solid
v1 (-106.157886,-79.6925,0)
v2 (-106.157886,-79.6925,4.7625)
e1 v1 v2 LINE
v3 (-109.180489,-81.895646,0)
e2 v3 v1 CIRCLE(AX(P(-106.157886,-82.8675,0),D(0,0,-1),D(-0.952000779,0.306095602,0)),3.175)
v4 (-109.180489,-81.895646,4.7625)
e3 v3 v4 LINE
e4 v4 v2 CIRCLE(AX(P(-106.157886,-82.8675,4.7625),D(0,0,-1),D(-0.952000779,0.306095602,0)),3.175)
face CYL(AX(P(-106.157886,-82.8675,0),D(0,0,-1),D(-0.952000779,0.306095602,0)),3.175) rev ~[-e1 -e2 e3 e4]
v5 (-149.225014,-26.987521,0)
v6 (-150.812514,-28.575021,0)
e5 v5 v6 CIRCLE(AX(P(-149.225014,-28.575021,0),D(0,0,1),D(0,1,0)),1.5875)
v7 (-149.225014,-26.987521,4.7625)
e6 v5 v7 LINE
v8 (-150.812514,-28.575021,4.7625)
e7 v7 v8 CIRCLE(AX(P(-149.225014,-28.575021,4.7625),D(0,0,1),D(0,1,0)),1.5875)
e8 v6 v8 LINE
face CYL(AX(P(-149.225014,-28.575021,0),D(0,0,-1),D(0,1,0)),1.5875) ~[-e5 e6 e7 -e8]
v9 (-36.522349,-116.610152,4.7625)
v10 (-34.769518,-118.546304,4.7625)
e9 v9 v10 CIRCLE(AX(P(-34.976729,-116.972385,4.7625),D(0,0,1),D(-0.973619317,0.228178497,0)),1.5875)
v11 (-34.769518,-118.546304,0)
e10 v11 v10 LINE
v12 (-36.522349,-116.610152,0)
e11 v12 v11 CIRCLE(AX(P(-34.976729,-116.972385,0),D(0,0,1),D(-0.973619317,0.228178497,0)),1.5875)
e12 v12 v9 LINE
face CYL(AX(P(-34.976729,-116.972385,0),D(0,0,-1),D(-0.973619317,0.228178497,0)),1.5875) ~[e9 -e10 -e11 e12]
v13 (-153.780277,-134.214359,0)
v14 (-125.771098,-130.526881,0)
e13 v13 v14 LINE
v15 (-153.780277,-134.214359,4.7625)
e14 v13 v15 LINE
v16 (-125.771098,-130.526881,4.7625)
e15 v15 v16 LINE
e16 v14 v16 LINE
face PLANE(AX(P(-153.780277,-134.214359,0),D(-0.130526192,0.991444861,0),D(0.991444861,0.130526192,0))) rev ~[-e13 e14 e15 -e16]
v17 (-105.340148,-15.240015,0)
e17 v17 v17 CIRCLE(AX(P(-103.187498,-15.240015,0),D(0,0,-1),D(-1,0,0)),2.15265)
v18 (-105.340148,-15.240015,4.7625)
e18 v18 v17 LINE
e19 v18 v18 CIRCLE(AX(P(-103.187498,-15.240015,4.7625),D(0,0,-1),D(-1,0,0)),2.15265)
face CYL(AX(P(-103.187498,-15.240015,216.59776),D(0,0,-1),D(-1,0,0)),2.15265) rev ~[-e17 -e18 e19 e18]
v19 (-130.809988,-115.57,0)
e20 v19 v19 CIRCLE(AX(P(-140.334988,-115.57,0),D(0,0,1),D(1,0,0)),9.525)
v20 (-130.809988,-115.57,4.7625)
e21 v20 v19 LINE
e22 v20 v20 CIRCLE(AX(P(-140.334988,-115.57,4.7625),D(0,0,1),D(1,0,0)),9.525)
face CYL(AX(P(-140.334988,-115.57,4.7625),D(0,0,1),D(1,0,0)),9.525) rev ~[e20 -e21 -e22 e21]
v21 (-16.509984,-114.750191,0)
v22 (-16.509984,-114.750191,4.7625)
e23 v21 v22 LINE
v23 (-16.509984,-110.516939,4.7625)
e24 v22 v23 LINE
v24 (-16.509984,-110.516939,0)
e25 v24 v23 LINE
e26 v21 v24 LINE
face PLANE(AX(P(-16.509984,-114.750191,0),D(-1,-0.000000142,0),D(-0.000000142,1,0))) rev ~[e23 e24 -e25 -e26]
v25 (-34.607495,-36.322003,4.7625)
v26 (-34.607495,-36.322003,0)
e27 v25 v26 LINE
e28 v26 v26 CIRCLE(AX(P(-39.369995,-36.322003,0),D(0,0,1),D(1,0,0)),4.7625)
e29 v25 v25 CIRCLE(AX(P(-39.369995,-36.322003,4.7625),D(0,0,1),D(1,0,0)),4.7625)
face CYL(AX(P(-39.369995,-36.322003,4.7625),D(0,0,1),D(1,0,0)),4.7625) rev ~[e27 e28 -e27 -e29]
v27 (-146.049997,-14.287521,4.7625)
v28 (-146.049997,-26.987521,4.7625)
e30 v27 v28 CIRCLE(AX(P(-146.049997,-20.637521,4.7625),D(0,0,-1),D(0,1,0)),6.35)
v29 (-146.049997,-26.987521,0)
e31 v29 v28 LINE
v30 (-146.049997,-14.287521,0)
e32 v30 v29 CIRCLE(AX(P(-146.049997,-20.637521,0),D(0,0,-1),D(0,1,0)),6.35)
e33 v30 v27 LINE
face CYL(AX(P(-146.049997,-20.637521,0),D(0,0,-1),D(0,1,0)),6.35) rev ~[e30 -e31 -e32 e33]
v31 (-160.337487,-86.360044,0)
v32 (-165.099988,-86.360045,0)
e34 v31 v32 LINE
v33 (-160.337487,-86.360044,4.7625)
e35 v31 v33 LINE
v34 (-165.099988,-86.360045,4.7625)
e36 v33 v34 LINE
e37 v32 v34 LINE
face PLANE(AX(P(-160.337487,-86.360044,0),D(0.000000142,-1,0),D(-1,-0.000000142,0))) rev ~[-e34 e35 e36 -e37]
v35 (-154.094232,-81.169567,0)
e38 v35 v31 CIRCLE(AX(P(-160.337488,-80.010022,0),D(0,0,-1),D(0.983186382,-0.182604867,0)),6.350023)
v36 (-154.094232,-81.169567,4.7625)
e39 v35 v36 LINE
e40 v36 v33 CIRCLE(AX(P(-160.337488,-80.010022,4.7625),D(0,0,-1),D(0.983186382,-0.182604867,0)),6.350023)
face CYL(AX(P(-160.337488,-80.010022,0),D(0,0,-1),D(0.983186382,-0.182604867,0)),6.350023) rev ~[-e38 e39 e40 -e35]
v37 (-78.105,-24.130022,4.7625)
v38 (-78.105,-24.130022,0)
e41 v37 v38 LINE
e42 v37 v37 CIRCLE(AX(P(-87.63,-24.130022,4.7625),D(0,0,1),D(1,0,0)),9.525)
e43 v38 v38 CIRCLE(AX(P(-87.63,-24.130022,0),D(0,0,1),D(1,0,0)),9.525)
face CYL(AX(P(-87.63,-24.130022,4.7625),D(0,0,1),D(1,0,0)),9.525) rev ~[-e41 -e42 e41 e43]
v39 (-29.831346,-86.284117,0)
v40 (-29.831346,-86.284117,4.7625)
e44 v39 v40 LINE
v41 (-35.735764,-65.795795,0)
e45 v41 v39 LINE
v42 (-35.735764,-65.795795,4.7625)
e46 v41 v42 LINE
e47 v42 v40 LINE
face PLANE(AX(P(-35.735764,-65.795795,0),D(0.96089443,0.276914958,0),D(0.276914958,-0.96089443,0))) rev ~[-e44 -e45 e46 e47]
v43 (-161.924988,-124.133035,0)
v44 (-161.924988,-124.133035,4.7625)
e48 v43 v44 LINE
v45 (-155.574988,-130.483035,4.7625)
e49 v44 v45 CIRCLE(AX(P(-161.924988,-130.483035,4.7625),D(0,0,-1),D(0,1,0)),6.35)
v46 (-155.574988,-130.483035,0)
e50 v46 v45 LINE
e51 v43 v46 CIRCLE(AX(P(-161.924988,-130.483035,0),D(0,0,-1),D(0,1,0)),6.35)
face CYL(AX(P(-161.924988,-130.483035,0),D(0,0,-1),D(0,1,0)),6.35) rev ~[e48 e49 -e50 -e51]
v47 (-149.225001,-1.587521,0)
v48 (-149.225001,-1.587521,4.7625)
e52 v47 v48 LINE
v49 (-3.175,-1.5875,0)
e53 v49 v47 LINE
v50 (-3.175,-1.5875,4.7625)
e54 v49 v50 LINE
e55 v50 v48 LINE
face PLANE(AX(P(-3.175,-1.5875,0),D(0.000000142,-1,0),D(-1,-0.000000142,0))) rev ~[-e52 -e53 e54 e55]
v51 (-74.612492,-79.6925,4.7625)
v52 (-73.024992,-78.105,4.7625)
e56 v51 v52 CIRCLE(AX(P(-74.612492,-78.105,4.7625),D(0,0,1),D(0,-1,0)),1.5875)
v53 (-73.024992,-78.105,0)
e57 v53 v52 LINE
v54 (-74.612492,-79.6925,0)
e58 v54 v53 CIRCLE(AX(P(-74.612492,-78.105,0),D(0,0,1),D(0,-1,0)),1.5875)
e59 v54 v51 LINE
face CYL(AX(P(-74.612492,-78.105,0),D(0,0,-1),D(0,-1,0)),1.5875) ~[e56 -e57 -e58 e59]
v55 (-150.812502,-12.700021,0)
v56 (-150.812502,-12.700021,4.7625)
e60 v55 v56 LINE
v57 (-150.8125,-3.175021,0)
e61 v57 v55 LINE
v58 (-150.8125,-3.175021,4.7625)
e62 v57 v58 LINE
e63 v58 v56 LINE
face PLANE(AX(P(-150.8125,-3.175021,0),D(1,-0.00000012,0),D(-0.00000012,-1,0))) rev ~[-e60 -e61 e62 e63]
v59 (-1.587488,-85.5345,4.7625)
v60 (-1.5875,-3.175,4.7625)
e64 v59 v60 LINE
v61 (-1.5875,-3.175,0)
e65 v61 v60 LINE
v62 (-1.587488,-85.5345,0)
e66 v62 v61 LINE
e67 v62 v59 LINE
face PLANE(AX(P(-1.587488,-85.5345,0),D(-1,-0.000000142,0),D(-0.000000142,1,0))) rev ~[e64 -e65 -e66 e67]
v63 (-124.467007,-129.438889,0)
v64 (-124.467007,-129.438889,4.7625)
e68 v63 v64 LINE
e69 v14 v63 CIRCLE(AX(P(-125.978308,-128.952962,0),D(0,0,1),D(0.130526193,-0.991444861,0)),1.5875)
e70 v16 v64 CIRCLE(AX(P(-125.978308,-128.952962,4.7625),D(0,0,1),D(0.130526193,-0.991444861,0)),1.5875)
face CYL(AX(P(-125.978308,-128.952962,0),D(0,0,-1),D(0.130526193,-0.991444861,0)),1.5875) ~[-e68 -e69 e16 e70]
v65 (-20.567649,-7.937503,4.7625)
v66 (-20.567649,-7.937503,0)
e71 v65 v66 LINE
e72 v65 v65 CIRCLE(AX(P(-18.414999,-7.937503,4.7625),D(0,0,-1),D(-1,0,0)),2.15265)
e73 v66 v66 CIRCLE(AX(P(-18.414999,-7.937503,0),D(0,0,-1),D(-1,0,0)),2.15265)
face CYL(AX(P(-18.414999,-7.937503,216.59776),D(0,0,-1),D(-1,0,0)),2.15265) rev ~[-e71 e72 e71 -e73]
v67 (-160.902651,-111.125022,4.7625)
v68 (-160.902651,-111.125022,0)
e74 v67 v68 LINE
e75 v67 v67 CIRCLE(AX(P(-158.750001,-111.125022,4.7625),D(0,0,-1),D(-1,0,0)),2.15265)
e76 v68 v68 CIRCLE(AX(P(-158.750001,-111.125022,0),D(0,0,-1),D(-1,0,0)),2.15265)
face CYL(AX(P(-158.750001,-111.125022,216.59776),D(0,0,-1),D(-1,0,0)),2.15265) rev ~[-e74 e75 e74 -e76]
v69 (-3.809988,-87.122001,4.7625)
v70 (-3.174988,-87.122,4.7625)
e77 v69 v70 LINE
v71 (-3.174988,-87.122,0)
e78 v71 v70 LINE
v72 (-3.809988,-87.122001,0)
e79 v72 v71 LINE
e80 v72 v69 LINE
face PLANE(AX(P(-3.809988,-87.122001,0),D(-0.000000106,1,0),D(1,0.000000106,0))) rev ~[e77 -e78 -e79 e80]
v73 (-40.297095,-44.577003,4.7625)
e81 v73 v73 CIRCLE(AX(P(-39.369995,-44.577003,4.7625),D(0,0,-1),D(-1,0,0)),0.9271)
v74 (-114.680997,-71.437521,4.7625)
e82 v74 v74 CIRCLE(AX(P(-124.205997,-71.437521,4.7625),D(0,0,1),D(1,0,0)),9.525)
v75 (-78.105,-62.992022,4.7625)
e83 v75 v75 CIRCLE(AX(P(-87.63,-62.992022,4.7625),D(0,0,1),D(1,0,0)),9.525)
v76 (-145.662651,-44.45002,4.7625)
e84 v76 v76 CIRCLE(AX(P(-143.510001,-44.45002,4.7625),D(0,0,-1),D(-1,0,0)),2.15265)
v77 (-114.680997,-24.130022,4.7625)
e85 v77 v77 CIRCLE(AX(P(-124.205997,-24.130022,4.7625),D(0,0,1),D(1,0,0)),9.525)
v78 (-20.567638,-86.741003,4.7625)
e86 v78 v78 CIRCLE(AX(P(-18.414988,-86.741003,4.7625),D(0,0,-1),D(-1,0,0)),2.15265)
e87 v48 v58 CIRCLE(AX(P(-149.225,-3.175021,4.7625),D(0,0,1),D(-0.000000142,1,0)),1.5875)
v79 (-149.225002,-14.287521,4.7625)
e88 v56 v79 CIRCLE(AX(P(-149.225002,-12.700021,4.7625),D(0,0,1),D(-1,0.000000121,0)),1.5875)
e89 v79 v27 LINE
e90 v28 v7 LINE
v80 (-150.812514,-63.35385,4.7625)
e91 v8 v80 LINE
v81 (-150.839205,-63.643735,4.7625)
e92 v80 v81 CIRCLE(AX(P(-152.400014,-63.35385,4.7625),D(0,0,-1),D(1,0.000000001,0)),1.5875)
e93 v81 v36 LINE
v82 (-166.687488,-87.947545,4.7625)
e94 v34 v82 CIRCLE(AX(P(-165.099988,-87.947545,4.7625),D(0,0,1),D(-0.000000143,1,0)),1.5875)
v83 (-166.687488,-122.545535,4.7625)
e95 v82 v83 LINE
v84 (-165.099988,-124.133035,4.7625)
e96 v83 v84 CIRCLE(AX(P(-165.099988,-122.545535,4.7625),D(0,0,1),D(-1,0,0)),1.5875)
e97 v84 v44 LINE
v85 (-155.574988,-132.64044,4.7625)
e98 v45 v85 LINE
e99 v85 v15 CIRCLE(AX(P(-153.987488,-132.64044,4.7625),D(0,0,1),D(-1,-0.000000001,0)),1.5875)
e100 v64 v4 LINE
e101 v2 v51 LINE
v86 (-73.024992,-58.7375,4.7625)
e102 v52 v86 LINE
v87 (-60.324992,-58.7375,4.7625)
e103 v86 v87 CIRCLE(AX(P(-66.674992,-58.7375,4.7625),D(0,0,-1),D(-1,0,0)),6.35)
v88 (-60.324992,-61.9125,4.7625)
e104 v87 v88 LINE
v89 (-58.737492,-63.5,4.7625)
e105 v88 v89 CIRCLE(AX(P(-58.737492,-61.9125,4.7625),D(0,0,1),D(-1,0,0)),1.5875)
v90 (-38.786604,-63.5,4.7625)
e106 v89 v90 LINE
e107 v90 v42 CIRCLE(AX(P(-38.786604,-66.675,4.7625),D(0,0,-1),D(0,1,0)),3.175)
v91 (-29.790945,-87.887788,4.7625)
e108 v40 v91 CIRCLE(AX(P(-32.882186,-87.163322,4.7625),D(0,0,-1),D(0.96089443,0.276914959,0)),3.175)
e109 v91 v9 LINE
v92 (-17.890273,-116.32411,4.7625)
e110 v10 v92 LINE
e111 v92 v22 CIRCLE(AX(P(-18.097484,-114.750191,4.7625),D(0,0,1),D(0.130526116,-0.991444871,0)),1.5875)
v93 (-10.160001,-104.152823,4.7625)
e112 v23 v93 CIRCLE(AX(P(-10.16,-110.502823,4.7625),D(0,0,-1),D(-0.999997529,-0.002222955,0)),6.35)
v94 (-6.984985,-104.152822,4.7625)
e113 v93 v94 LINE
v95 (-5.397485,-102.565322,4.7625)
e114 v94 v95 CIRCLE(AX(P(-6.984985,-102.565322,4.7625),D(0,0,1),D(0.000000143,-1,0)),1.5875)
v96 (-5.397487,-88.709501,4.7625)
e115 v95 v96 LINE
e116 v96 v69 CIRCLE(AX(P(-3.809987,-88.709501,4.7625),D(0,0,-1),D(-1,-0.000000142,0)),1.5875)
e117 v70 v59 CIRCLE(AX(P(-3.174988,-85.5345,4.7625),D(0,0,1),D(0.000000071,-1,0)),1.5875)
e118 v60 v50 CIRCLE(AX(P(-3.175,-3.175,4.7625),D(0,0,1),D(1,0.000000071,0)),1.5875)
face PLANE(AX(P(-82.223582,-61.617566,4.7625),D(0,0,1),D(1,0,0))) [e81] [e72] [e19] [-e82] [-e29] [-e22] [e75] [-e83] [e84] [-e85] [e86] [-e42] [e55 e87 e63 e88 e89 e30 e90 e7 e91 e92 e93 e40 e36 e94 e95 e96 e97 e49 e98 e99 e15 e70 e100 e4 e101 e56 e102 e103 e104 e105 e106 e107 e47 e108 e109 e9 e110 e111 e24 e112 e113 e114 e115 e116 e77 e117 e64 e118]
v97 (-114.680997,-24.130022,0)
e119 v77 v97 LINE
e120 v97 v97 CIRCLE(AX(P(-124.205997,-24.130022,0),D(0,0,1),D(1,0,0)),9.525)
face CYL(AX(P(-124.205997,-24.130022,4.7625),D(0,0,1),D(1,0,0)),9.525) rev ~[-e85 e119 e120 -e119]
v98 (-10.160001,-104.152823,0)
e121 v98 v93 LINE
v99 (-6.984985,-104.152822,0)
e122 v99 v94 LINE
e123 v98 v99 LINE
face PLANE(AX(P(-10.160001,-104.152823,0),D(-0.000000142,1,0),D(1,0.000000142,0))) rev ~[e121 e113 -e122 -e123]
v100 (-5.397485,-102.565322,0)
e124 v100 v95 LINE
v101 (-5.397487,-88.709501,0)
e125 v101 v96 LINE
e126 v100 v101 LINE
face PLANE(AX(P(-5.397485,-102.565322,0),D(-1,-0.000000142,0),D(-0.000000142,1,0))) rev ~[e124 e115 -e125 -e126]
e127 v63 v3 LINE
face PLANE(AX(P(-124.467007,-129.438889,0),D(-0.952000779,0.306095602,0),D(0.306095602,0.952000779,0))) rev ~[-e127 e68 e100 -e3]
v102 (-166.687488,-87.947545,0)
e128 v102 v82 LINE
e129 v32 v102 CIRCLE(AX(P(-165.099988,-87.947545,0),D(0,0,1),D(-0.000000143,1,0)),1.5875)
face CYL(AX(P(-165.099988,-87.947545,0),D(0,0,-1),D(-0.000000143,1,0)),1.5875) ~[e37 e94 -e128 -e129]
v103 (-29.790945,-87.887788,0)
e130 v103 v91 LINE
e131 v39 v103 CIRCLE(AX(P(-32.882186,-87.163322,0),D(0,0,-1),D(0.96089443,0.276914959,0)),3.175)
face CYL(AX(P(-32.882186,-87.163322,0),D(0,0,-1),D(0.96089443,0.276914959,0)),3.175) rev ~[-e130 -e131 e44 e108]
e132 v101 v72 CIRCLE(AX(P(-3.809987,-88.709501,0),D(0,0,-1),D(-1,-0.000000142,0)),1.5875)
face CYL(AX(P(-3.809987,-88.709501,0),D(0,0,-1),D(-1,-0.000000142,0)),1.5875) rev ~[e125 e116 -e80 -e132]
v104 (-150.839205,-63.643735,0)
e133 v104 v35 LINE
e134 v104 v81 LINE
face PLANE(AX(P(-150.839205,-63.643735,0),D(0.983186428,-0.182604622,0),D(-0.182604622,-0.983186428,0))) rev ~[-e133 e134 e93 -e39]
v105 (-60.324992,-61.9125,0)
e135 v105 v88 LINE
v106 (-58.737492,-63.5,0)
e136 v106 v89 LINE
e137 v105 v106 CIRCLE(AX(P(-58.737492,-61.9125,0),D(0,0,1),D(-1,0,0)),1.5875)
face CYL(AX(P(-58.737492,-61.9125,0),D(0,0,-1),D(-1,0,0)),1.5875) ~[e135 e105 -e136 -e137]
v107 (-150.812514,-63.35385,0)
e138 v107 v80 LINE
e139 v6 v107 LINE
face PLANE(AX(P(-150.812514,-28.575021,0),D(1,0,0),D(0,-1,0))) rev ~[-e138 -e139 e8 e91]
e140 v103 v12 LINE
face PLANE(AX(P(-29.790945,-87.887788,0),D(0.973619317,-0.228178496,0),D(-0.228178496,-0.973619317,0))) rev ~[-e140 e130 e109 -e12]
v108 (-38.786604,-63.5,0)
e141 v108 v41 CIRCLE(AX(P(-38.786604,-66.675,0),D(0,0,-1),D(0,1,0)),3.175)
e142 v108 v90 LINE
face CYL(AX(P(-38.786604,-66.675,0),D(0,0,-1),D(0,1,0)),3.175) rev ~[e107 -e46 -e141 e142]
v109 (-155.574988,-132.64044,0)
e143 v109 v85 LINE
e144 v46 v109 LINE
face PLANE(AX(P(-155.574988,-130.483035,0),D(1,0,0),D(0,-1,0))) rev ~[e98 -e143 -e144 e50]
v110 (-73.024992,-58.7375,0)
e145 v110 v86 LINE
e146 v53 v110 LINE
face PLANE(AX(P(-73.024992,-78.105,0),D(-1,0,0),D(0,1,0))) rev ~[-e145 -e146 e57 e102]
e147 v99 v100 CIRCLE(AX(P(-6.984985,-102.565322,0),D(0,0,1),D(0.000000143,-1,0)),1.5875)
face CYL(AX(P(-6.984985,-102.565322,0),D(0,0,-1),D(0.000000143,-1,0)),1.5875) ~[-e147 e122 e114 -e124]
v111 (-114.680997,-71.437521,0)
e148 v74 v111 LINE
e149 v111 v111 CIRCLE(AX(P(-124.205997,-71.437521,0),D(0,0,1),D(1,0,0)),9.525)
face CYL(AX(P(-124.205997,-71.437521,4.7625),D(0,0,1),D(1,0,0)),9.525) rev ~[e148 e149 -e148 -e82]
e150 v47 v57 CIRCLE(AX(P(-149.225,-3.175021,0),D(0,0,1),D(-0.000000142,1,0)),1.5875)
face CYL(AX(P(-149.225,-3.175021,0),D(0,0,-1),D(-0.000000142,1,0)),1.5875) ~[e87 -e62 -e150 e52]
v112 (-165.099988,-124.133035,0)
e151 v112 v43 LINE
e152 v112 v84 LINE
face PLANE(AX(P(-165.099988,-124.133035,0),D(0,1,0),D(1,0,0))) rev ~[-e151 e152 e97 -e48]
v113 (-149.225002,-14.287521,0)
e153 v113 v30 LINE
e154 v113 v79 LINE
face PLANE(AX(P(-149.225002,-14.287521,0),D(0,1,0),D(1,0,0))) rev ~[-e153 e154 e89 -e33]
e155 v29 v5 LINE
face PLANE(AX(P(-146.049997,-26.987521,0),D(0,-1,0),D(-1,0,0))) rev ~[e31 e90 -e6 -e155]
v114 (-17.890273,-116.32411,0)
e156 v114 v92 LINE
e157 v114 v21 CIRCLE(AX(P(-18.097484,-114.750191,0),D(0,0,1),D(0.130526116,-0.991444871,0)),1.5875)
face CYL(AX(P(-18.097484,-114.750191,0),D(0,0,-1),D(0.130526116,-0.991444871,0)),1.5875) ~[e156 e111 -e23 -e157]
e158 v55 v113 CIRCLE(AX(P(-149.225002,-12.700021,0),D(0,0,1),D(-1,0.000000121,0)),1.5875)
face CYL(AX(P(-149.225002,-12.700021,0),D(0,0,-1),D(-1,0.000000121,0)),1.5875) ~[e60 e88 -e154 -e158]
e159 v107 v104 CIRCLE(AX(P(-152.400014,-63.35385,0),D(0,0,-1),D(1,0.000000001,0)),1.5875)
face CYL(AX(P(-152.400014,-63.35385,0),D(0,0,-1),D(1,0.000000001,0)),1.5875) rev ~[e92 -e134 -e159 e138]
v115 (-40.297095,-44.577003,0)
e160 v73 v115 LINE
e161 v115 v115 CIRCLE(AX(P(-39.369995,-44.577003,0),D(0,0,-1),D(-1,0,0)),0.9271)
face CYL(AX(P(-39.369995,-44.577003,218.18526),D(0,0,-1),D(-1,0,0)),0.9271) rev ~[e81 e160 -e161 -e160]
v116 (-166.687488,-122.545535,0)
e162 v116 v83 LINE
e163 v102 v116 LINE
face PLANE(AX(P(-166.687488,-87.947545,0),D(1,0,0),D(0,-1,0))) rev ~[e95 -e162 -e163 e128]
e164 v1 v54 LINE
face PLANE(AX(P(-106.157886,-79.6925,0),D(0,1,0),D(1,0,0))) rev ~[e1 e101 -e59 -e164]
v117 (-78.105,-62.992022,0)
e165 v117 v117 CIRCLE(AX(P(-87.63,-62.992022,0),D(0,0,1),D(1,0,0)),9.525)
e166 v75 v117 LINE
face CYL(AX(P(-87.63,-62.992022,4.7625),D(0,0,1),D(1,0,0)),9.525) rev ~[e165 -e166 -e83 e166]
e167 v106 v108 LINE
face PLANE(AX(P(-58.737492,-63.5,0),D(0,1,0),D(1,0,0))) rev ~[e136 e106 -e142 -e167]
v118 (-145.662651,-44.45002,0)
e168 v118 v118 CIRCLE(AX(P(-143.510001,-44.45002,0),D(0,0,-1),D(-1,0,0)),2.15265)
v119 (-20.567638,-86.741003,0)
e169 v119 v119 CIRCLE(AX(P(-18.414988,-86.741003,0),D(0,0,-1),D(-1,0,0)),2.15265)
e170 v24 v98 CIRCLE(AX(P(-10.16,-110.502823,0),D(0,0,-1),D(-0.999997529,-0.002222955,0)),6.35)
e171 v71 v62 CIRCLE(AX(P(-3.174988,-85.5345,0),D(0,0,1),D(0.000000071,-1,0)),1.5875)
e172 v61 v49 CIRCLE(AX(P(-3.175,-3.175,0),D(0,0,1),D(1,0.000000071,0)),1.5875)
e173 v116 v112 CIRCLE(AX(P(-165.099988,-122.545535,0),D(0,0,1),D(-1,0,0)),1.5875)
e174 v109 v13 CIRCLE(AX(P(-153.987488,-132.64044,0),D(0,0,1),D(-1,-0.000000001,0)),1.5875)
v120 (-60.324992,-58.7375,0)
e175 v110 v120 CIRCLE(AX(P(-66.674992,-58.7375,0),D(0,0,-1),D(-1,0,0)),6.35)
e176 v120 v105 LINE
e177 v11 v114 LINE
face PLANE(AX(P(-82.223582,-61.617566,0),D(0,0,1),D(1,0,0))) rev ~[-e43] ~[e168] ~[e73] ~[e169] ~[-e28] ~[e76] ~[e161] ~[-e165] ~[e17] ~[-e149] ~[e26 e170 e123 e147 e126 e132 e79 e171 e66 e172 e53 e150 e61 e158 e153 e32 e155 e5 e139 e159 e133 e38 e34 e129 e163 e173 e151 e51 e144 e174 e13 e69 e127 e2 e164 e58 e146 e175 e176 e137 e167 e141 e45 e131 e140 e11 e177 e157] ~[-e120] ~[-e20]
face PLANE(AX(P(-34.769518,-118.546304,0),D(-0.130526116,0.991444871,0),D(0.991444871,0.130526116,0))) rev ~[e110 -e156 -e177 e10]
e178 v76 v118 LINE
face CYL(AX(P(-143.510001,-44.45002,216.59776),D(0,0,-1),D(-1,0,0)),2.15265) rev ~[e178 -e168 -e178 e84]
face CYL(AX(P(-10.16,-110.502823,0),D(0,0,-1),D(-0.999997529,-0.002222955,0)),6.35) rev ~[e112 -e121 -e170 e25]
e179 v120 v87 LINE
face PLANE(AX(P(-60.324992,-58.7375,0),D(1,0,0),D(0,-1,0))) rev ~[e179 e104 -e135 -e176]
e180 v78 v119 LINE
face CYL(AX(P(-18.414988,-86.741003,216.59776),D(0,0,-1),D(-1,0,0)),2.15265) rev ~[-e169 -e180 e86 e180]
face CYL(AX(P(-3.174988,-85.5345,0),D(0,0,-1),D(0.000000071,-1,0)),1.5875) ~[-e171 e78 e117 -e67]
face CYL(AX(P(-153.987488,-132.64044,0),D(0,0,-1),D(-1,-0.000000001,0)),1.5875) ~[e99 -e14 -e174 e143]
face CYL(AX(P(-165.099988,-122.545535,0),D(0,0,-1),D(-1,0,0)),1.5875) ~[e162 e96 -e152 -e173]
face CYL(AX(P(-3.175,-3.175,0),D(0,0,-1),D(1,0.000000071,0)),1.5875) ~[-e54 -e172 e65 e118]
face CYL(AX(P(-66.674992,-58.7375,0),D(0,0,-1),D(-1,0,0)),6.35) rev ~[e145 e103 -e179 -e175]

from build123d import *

# Parameters (mm, degrees)
BOSS_EXTRUDE1_DEPTH   = 4.7625
F_6_CLEARANCE_HOLE1_D = 4.3053
SKETCH5_R             = 9.525
SKETCH5_R_2           = 4.7625
CUT_EXTRUDE1_DEPTH    = 5.7625
F_0_CLEARANCE_HOLE1_D = 1.8542


with BuildPart() as part:
    # Sketch1 → Boss-Extrude1 (new body)
    with BuildSketch(Plane.XY):
        with BuildLine():
            Line((-1.58748798, -85.534500226), (-1.587499702, -3.175000338))
            ThreePointArc((-1.587499702, -3.175000338), (-2.052467807, -2.052468316), (-3.174999928, -1.587500451))
            Line((-3.174999928, -1.587500451), (-149.225000608, -1.587521198))
            ThreePointArc((-149.225000608, -1.587521198), (-150.34753241, -2.052489195), (-150.812500382, -3.175021007))
            Line((-150.812500382, -3.175021007), (-150.812501529, -12.700020556))
            ThreePointArc((-150.812501529, -12.700020556), (-150.347533612, -13.822552695), (-149.225001529, -14.287520747))
            Line((-149.225001529, -14.287520747), (-146.049997068, -14.287520747))
            ThreePointArc((-146.049997068, -14.287520747), (-139.699997068, -20.637520747), (-146.049997068, -26.987520747))
            Line((-146.049997068, -26.987520747), (-149.225013631, -26.987520747))
            ThreePointArc((-149.225013631, -26.987520747), (-150.347545646, -27.452488732), (-150.812513631, -28.575020747))
            Line((-150.812513631, -28.575020747), (-150.812513631, -63.3538504))
            ThreePointArc((-150.812513631, -63.3538504), (-150.819200601, -63.499405937), (-150.839205177, -63.643735238))
            Line((-150.839205177, -63.643735238), (-154.094231629, -81.169566712))
            ThreePointArc((-154.094231629, -81.169566712), (-156.277952028, -84.892947063), (-160.337486649, -86.360044427))
            Line((-160.337486649, -86.360044427), (-165.099987777, -86.360045103))
            ThreePointArc((-165.099987777, -86.360045103), (-166.222519646, -86.825013168), (-166.687487552, -87.947545103))
            Line((-166.687487552, -87.947545103), (-166.687487552, -122.545535149))
            ThreePointArc((-166.687487552, -122.545535149), (-166.222519567, -123.668067164), (-165.099987552, -124.133035149))
            Line((-165.099987552, -124.133035149), (-161.924987552, -124.133035149))
            ThreePointArc((-161.924987552, -124.133035149), (-157.434859491, -125.992907088), (-155.574987552, -130.483035149))
            Line((-155.574987552, -130.483035149), (-155.574987552, -132.640440399))
            ThreePointArc((-155.574987552, -132.640440399), (-155.034199033, -133.833986093), (-153.780277221, -134.214359116))
            Line((-153.780277221, -134.214359116), (-125.771097932, -130.526880708))
            ThreePointArc((-125.771097932, -130.526880708), (-124.961326394, -130.171938663), (-124.467007026, -129.438888758))
            Line((-124.467007026, -129.438888758), (-109.180488679, -81.895646464))
            ThreePointArc((-109.180488679, -81.895646464), (-108.028045294, -80.301738907), (-106.157886207, -79.6925))
            Line((-106.157886207, -79.6925), (-74.612491751, -79.6925))
            ThreePointArc((-74.612491751, -79.6925), (-73.489959736, -79.227532015), (-73.024991751, -78.105))
            Line((-73.024991751, -78.105), (-73.024991751, -58.7375))
            ThreePointArc((-73.024991751, -58.7375), (-66.674991751, -52.3875), (-60.324991751, -58.7375))
            Line((-60.324991751, -58.7375), (-60.324991751, -61.9125))
            ThreePointArc((-60.324991751, -61.9125), (-59.860023766, -63.035032015), (-58.737491751, -63.5))
            Line((-58.737491751, -63.5), (-38.786604302, -63.5))
            ThreePointArc((-38.786604302, -63.5), (-36.87752741, -64.138062787), (-35.735764486, -65.795795009))
            Line((-35.735764486, -65.795795009), (-29.83134609, -86.284116742))
            ThreePointArc((-29.83134609, -86.284116742), (-29.708193003, -87.083358908), (-29.790944576, -87.887788459))
            Line((-29.790944576, -87.887788459), (-36.522349245, -116.610151533))
            ThreePointArc((-36.522349245, -116.610151533), (-36.153591729, -118.037818788), (-34.769518371, -118.546303629))
            Line((-34.769518371, -118.546303629), (-17.8902735, -116.324110206))
            ThreePointArc((-17.8902735, -116.324110206), (-16.903937981, -115.796902916), (-16.509983709, -114.750191247))
            Line((-16.509983709, -114.750191247), (-16.509984311, -110.516938696))
            ThreePointArc((-16.509984311, -110.516938696), (-14.655116284, -106.017688645), (-10.160000902, -104.152822935))
            Line((-10.160000902, -104.152822935), (-6.9849852, -104.152822484))
            ThreePointArc((-6.9849852, -104.152822484), (-5.862453251, -103.687854339), (-5.397485425, -102.565322258))
            Line((-5.397485425, -102.565322258), (-5.397487394, -88.709500767))
            ThreePointArc((-5.397487394, -88.709500767), (-4.932519529, -87.586968646), (-3.809987507, -87.122000541))
            Line((-3.809987507, -87.122000541), (-3.17498789, -87.122000474))
            ThreePointArc((-3.17498789, -87.122000474), (-2.052455852, -86.657032363), (-1.58748798, -85.534500226))
        make_face()
    extrude(amount=BOSS_EXTRUDE1_DEPTH)

    # #6 Clearance Hole1 (through all)
    with Locations(Plane.XY.offset(4.7625)):
        with Locations((-103.187497835, -15.240014659), (-18.414998872, -7.937503157), (-143.510001128, -44.450020387), (-158.750001128, -111.125021649), (-18.414987678, -86.741003157)):
            Hole(F_6_CLEARANCE_HOLE1_D / 2)

    # Sketch5 → Cut-Extrude1 (cut, through all)
    with BuildSketch(Plane.XY.offset(4.7625)):
        with Locations((-124.205996572, -24.130021649)):
            Circle(SKETCH5_R)
        with Locations((-87.63, -24.130021649)):
            Circle(SKETCH5_R)
        with Locations((-87.63, -62.992021649)):
            Circle(SKETCH5_R)
        with Locations((-124.205996572, -71.437521424)):
            Circle(SKETCH5_R)
        with Locations((-140.334987552, -115.57)):
            Circle(SKETCH5_R)
        with Locations((-39.36999484, -36.322003157)):
            Circle(SKETCH5_R_2)
    extrude(amount=-CUT_EXTRUDE1_DEPTH, mode=Mode.SUBTRACT)

    # #0 Clearance Hole1 (through all)
    with Locations(Plane.XY.offset(6.35)):
        with Locations((-39.36999484, -44.577003157)):
            Hole(F_0_CLEARANCE_HOLE1_D / 2)


solid = part.part
